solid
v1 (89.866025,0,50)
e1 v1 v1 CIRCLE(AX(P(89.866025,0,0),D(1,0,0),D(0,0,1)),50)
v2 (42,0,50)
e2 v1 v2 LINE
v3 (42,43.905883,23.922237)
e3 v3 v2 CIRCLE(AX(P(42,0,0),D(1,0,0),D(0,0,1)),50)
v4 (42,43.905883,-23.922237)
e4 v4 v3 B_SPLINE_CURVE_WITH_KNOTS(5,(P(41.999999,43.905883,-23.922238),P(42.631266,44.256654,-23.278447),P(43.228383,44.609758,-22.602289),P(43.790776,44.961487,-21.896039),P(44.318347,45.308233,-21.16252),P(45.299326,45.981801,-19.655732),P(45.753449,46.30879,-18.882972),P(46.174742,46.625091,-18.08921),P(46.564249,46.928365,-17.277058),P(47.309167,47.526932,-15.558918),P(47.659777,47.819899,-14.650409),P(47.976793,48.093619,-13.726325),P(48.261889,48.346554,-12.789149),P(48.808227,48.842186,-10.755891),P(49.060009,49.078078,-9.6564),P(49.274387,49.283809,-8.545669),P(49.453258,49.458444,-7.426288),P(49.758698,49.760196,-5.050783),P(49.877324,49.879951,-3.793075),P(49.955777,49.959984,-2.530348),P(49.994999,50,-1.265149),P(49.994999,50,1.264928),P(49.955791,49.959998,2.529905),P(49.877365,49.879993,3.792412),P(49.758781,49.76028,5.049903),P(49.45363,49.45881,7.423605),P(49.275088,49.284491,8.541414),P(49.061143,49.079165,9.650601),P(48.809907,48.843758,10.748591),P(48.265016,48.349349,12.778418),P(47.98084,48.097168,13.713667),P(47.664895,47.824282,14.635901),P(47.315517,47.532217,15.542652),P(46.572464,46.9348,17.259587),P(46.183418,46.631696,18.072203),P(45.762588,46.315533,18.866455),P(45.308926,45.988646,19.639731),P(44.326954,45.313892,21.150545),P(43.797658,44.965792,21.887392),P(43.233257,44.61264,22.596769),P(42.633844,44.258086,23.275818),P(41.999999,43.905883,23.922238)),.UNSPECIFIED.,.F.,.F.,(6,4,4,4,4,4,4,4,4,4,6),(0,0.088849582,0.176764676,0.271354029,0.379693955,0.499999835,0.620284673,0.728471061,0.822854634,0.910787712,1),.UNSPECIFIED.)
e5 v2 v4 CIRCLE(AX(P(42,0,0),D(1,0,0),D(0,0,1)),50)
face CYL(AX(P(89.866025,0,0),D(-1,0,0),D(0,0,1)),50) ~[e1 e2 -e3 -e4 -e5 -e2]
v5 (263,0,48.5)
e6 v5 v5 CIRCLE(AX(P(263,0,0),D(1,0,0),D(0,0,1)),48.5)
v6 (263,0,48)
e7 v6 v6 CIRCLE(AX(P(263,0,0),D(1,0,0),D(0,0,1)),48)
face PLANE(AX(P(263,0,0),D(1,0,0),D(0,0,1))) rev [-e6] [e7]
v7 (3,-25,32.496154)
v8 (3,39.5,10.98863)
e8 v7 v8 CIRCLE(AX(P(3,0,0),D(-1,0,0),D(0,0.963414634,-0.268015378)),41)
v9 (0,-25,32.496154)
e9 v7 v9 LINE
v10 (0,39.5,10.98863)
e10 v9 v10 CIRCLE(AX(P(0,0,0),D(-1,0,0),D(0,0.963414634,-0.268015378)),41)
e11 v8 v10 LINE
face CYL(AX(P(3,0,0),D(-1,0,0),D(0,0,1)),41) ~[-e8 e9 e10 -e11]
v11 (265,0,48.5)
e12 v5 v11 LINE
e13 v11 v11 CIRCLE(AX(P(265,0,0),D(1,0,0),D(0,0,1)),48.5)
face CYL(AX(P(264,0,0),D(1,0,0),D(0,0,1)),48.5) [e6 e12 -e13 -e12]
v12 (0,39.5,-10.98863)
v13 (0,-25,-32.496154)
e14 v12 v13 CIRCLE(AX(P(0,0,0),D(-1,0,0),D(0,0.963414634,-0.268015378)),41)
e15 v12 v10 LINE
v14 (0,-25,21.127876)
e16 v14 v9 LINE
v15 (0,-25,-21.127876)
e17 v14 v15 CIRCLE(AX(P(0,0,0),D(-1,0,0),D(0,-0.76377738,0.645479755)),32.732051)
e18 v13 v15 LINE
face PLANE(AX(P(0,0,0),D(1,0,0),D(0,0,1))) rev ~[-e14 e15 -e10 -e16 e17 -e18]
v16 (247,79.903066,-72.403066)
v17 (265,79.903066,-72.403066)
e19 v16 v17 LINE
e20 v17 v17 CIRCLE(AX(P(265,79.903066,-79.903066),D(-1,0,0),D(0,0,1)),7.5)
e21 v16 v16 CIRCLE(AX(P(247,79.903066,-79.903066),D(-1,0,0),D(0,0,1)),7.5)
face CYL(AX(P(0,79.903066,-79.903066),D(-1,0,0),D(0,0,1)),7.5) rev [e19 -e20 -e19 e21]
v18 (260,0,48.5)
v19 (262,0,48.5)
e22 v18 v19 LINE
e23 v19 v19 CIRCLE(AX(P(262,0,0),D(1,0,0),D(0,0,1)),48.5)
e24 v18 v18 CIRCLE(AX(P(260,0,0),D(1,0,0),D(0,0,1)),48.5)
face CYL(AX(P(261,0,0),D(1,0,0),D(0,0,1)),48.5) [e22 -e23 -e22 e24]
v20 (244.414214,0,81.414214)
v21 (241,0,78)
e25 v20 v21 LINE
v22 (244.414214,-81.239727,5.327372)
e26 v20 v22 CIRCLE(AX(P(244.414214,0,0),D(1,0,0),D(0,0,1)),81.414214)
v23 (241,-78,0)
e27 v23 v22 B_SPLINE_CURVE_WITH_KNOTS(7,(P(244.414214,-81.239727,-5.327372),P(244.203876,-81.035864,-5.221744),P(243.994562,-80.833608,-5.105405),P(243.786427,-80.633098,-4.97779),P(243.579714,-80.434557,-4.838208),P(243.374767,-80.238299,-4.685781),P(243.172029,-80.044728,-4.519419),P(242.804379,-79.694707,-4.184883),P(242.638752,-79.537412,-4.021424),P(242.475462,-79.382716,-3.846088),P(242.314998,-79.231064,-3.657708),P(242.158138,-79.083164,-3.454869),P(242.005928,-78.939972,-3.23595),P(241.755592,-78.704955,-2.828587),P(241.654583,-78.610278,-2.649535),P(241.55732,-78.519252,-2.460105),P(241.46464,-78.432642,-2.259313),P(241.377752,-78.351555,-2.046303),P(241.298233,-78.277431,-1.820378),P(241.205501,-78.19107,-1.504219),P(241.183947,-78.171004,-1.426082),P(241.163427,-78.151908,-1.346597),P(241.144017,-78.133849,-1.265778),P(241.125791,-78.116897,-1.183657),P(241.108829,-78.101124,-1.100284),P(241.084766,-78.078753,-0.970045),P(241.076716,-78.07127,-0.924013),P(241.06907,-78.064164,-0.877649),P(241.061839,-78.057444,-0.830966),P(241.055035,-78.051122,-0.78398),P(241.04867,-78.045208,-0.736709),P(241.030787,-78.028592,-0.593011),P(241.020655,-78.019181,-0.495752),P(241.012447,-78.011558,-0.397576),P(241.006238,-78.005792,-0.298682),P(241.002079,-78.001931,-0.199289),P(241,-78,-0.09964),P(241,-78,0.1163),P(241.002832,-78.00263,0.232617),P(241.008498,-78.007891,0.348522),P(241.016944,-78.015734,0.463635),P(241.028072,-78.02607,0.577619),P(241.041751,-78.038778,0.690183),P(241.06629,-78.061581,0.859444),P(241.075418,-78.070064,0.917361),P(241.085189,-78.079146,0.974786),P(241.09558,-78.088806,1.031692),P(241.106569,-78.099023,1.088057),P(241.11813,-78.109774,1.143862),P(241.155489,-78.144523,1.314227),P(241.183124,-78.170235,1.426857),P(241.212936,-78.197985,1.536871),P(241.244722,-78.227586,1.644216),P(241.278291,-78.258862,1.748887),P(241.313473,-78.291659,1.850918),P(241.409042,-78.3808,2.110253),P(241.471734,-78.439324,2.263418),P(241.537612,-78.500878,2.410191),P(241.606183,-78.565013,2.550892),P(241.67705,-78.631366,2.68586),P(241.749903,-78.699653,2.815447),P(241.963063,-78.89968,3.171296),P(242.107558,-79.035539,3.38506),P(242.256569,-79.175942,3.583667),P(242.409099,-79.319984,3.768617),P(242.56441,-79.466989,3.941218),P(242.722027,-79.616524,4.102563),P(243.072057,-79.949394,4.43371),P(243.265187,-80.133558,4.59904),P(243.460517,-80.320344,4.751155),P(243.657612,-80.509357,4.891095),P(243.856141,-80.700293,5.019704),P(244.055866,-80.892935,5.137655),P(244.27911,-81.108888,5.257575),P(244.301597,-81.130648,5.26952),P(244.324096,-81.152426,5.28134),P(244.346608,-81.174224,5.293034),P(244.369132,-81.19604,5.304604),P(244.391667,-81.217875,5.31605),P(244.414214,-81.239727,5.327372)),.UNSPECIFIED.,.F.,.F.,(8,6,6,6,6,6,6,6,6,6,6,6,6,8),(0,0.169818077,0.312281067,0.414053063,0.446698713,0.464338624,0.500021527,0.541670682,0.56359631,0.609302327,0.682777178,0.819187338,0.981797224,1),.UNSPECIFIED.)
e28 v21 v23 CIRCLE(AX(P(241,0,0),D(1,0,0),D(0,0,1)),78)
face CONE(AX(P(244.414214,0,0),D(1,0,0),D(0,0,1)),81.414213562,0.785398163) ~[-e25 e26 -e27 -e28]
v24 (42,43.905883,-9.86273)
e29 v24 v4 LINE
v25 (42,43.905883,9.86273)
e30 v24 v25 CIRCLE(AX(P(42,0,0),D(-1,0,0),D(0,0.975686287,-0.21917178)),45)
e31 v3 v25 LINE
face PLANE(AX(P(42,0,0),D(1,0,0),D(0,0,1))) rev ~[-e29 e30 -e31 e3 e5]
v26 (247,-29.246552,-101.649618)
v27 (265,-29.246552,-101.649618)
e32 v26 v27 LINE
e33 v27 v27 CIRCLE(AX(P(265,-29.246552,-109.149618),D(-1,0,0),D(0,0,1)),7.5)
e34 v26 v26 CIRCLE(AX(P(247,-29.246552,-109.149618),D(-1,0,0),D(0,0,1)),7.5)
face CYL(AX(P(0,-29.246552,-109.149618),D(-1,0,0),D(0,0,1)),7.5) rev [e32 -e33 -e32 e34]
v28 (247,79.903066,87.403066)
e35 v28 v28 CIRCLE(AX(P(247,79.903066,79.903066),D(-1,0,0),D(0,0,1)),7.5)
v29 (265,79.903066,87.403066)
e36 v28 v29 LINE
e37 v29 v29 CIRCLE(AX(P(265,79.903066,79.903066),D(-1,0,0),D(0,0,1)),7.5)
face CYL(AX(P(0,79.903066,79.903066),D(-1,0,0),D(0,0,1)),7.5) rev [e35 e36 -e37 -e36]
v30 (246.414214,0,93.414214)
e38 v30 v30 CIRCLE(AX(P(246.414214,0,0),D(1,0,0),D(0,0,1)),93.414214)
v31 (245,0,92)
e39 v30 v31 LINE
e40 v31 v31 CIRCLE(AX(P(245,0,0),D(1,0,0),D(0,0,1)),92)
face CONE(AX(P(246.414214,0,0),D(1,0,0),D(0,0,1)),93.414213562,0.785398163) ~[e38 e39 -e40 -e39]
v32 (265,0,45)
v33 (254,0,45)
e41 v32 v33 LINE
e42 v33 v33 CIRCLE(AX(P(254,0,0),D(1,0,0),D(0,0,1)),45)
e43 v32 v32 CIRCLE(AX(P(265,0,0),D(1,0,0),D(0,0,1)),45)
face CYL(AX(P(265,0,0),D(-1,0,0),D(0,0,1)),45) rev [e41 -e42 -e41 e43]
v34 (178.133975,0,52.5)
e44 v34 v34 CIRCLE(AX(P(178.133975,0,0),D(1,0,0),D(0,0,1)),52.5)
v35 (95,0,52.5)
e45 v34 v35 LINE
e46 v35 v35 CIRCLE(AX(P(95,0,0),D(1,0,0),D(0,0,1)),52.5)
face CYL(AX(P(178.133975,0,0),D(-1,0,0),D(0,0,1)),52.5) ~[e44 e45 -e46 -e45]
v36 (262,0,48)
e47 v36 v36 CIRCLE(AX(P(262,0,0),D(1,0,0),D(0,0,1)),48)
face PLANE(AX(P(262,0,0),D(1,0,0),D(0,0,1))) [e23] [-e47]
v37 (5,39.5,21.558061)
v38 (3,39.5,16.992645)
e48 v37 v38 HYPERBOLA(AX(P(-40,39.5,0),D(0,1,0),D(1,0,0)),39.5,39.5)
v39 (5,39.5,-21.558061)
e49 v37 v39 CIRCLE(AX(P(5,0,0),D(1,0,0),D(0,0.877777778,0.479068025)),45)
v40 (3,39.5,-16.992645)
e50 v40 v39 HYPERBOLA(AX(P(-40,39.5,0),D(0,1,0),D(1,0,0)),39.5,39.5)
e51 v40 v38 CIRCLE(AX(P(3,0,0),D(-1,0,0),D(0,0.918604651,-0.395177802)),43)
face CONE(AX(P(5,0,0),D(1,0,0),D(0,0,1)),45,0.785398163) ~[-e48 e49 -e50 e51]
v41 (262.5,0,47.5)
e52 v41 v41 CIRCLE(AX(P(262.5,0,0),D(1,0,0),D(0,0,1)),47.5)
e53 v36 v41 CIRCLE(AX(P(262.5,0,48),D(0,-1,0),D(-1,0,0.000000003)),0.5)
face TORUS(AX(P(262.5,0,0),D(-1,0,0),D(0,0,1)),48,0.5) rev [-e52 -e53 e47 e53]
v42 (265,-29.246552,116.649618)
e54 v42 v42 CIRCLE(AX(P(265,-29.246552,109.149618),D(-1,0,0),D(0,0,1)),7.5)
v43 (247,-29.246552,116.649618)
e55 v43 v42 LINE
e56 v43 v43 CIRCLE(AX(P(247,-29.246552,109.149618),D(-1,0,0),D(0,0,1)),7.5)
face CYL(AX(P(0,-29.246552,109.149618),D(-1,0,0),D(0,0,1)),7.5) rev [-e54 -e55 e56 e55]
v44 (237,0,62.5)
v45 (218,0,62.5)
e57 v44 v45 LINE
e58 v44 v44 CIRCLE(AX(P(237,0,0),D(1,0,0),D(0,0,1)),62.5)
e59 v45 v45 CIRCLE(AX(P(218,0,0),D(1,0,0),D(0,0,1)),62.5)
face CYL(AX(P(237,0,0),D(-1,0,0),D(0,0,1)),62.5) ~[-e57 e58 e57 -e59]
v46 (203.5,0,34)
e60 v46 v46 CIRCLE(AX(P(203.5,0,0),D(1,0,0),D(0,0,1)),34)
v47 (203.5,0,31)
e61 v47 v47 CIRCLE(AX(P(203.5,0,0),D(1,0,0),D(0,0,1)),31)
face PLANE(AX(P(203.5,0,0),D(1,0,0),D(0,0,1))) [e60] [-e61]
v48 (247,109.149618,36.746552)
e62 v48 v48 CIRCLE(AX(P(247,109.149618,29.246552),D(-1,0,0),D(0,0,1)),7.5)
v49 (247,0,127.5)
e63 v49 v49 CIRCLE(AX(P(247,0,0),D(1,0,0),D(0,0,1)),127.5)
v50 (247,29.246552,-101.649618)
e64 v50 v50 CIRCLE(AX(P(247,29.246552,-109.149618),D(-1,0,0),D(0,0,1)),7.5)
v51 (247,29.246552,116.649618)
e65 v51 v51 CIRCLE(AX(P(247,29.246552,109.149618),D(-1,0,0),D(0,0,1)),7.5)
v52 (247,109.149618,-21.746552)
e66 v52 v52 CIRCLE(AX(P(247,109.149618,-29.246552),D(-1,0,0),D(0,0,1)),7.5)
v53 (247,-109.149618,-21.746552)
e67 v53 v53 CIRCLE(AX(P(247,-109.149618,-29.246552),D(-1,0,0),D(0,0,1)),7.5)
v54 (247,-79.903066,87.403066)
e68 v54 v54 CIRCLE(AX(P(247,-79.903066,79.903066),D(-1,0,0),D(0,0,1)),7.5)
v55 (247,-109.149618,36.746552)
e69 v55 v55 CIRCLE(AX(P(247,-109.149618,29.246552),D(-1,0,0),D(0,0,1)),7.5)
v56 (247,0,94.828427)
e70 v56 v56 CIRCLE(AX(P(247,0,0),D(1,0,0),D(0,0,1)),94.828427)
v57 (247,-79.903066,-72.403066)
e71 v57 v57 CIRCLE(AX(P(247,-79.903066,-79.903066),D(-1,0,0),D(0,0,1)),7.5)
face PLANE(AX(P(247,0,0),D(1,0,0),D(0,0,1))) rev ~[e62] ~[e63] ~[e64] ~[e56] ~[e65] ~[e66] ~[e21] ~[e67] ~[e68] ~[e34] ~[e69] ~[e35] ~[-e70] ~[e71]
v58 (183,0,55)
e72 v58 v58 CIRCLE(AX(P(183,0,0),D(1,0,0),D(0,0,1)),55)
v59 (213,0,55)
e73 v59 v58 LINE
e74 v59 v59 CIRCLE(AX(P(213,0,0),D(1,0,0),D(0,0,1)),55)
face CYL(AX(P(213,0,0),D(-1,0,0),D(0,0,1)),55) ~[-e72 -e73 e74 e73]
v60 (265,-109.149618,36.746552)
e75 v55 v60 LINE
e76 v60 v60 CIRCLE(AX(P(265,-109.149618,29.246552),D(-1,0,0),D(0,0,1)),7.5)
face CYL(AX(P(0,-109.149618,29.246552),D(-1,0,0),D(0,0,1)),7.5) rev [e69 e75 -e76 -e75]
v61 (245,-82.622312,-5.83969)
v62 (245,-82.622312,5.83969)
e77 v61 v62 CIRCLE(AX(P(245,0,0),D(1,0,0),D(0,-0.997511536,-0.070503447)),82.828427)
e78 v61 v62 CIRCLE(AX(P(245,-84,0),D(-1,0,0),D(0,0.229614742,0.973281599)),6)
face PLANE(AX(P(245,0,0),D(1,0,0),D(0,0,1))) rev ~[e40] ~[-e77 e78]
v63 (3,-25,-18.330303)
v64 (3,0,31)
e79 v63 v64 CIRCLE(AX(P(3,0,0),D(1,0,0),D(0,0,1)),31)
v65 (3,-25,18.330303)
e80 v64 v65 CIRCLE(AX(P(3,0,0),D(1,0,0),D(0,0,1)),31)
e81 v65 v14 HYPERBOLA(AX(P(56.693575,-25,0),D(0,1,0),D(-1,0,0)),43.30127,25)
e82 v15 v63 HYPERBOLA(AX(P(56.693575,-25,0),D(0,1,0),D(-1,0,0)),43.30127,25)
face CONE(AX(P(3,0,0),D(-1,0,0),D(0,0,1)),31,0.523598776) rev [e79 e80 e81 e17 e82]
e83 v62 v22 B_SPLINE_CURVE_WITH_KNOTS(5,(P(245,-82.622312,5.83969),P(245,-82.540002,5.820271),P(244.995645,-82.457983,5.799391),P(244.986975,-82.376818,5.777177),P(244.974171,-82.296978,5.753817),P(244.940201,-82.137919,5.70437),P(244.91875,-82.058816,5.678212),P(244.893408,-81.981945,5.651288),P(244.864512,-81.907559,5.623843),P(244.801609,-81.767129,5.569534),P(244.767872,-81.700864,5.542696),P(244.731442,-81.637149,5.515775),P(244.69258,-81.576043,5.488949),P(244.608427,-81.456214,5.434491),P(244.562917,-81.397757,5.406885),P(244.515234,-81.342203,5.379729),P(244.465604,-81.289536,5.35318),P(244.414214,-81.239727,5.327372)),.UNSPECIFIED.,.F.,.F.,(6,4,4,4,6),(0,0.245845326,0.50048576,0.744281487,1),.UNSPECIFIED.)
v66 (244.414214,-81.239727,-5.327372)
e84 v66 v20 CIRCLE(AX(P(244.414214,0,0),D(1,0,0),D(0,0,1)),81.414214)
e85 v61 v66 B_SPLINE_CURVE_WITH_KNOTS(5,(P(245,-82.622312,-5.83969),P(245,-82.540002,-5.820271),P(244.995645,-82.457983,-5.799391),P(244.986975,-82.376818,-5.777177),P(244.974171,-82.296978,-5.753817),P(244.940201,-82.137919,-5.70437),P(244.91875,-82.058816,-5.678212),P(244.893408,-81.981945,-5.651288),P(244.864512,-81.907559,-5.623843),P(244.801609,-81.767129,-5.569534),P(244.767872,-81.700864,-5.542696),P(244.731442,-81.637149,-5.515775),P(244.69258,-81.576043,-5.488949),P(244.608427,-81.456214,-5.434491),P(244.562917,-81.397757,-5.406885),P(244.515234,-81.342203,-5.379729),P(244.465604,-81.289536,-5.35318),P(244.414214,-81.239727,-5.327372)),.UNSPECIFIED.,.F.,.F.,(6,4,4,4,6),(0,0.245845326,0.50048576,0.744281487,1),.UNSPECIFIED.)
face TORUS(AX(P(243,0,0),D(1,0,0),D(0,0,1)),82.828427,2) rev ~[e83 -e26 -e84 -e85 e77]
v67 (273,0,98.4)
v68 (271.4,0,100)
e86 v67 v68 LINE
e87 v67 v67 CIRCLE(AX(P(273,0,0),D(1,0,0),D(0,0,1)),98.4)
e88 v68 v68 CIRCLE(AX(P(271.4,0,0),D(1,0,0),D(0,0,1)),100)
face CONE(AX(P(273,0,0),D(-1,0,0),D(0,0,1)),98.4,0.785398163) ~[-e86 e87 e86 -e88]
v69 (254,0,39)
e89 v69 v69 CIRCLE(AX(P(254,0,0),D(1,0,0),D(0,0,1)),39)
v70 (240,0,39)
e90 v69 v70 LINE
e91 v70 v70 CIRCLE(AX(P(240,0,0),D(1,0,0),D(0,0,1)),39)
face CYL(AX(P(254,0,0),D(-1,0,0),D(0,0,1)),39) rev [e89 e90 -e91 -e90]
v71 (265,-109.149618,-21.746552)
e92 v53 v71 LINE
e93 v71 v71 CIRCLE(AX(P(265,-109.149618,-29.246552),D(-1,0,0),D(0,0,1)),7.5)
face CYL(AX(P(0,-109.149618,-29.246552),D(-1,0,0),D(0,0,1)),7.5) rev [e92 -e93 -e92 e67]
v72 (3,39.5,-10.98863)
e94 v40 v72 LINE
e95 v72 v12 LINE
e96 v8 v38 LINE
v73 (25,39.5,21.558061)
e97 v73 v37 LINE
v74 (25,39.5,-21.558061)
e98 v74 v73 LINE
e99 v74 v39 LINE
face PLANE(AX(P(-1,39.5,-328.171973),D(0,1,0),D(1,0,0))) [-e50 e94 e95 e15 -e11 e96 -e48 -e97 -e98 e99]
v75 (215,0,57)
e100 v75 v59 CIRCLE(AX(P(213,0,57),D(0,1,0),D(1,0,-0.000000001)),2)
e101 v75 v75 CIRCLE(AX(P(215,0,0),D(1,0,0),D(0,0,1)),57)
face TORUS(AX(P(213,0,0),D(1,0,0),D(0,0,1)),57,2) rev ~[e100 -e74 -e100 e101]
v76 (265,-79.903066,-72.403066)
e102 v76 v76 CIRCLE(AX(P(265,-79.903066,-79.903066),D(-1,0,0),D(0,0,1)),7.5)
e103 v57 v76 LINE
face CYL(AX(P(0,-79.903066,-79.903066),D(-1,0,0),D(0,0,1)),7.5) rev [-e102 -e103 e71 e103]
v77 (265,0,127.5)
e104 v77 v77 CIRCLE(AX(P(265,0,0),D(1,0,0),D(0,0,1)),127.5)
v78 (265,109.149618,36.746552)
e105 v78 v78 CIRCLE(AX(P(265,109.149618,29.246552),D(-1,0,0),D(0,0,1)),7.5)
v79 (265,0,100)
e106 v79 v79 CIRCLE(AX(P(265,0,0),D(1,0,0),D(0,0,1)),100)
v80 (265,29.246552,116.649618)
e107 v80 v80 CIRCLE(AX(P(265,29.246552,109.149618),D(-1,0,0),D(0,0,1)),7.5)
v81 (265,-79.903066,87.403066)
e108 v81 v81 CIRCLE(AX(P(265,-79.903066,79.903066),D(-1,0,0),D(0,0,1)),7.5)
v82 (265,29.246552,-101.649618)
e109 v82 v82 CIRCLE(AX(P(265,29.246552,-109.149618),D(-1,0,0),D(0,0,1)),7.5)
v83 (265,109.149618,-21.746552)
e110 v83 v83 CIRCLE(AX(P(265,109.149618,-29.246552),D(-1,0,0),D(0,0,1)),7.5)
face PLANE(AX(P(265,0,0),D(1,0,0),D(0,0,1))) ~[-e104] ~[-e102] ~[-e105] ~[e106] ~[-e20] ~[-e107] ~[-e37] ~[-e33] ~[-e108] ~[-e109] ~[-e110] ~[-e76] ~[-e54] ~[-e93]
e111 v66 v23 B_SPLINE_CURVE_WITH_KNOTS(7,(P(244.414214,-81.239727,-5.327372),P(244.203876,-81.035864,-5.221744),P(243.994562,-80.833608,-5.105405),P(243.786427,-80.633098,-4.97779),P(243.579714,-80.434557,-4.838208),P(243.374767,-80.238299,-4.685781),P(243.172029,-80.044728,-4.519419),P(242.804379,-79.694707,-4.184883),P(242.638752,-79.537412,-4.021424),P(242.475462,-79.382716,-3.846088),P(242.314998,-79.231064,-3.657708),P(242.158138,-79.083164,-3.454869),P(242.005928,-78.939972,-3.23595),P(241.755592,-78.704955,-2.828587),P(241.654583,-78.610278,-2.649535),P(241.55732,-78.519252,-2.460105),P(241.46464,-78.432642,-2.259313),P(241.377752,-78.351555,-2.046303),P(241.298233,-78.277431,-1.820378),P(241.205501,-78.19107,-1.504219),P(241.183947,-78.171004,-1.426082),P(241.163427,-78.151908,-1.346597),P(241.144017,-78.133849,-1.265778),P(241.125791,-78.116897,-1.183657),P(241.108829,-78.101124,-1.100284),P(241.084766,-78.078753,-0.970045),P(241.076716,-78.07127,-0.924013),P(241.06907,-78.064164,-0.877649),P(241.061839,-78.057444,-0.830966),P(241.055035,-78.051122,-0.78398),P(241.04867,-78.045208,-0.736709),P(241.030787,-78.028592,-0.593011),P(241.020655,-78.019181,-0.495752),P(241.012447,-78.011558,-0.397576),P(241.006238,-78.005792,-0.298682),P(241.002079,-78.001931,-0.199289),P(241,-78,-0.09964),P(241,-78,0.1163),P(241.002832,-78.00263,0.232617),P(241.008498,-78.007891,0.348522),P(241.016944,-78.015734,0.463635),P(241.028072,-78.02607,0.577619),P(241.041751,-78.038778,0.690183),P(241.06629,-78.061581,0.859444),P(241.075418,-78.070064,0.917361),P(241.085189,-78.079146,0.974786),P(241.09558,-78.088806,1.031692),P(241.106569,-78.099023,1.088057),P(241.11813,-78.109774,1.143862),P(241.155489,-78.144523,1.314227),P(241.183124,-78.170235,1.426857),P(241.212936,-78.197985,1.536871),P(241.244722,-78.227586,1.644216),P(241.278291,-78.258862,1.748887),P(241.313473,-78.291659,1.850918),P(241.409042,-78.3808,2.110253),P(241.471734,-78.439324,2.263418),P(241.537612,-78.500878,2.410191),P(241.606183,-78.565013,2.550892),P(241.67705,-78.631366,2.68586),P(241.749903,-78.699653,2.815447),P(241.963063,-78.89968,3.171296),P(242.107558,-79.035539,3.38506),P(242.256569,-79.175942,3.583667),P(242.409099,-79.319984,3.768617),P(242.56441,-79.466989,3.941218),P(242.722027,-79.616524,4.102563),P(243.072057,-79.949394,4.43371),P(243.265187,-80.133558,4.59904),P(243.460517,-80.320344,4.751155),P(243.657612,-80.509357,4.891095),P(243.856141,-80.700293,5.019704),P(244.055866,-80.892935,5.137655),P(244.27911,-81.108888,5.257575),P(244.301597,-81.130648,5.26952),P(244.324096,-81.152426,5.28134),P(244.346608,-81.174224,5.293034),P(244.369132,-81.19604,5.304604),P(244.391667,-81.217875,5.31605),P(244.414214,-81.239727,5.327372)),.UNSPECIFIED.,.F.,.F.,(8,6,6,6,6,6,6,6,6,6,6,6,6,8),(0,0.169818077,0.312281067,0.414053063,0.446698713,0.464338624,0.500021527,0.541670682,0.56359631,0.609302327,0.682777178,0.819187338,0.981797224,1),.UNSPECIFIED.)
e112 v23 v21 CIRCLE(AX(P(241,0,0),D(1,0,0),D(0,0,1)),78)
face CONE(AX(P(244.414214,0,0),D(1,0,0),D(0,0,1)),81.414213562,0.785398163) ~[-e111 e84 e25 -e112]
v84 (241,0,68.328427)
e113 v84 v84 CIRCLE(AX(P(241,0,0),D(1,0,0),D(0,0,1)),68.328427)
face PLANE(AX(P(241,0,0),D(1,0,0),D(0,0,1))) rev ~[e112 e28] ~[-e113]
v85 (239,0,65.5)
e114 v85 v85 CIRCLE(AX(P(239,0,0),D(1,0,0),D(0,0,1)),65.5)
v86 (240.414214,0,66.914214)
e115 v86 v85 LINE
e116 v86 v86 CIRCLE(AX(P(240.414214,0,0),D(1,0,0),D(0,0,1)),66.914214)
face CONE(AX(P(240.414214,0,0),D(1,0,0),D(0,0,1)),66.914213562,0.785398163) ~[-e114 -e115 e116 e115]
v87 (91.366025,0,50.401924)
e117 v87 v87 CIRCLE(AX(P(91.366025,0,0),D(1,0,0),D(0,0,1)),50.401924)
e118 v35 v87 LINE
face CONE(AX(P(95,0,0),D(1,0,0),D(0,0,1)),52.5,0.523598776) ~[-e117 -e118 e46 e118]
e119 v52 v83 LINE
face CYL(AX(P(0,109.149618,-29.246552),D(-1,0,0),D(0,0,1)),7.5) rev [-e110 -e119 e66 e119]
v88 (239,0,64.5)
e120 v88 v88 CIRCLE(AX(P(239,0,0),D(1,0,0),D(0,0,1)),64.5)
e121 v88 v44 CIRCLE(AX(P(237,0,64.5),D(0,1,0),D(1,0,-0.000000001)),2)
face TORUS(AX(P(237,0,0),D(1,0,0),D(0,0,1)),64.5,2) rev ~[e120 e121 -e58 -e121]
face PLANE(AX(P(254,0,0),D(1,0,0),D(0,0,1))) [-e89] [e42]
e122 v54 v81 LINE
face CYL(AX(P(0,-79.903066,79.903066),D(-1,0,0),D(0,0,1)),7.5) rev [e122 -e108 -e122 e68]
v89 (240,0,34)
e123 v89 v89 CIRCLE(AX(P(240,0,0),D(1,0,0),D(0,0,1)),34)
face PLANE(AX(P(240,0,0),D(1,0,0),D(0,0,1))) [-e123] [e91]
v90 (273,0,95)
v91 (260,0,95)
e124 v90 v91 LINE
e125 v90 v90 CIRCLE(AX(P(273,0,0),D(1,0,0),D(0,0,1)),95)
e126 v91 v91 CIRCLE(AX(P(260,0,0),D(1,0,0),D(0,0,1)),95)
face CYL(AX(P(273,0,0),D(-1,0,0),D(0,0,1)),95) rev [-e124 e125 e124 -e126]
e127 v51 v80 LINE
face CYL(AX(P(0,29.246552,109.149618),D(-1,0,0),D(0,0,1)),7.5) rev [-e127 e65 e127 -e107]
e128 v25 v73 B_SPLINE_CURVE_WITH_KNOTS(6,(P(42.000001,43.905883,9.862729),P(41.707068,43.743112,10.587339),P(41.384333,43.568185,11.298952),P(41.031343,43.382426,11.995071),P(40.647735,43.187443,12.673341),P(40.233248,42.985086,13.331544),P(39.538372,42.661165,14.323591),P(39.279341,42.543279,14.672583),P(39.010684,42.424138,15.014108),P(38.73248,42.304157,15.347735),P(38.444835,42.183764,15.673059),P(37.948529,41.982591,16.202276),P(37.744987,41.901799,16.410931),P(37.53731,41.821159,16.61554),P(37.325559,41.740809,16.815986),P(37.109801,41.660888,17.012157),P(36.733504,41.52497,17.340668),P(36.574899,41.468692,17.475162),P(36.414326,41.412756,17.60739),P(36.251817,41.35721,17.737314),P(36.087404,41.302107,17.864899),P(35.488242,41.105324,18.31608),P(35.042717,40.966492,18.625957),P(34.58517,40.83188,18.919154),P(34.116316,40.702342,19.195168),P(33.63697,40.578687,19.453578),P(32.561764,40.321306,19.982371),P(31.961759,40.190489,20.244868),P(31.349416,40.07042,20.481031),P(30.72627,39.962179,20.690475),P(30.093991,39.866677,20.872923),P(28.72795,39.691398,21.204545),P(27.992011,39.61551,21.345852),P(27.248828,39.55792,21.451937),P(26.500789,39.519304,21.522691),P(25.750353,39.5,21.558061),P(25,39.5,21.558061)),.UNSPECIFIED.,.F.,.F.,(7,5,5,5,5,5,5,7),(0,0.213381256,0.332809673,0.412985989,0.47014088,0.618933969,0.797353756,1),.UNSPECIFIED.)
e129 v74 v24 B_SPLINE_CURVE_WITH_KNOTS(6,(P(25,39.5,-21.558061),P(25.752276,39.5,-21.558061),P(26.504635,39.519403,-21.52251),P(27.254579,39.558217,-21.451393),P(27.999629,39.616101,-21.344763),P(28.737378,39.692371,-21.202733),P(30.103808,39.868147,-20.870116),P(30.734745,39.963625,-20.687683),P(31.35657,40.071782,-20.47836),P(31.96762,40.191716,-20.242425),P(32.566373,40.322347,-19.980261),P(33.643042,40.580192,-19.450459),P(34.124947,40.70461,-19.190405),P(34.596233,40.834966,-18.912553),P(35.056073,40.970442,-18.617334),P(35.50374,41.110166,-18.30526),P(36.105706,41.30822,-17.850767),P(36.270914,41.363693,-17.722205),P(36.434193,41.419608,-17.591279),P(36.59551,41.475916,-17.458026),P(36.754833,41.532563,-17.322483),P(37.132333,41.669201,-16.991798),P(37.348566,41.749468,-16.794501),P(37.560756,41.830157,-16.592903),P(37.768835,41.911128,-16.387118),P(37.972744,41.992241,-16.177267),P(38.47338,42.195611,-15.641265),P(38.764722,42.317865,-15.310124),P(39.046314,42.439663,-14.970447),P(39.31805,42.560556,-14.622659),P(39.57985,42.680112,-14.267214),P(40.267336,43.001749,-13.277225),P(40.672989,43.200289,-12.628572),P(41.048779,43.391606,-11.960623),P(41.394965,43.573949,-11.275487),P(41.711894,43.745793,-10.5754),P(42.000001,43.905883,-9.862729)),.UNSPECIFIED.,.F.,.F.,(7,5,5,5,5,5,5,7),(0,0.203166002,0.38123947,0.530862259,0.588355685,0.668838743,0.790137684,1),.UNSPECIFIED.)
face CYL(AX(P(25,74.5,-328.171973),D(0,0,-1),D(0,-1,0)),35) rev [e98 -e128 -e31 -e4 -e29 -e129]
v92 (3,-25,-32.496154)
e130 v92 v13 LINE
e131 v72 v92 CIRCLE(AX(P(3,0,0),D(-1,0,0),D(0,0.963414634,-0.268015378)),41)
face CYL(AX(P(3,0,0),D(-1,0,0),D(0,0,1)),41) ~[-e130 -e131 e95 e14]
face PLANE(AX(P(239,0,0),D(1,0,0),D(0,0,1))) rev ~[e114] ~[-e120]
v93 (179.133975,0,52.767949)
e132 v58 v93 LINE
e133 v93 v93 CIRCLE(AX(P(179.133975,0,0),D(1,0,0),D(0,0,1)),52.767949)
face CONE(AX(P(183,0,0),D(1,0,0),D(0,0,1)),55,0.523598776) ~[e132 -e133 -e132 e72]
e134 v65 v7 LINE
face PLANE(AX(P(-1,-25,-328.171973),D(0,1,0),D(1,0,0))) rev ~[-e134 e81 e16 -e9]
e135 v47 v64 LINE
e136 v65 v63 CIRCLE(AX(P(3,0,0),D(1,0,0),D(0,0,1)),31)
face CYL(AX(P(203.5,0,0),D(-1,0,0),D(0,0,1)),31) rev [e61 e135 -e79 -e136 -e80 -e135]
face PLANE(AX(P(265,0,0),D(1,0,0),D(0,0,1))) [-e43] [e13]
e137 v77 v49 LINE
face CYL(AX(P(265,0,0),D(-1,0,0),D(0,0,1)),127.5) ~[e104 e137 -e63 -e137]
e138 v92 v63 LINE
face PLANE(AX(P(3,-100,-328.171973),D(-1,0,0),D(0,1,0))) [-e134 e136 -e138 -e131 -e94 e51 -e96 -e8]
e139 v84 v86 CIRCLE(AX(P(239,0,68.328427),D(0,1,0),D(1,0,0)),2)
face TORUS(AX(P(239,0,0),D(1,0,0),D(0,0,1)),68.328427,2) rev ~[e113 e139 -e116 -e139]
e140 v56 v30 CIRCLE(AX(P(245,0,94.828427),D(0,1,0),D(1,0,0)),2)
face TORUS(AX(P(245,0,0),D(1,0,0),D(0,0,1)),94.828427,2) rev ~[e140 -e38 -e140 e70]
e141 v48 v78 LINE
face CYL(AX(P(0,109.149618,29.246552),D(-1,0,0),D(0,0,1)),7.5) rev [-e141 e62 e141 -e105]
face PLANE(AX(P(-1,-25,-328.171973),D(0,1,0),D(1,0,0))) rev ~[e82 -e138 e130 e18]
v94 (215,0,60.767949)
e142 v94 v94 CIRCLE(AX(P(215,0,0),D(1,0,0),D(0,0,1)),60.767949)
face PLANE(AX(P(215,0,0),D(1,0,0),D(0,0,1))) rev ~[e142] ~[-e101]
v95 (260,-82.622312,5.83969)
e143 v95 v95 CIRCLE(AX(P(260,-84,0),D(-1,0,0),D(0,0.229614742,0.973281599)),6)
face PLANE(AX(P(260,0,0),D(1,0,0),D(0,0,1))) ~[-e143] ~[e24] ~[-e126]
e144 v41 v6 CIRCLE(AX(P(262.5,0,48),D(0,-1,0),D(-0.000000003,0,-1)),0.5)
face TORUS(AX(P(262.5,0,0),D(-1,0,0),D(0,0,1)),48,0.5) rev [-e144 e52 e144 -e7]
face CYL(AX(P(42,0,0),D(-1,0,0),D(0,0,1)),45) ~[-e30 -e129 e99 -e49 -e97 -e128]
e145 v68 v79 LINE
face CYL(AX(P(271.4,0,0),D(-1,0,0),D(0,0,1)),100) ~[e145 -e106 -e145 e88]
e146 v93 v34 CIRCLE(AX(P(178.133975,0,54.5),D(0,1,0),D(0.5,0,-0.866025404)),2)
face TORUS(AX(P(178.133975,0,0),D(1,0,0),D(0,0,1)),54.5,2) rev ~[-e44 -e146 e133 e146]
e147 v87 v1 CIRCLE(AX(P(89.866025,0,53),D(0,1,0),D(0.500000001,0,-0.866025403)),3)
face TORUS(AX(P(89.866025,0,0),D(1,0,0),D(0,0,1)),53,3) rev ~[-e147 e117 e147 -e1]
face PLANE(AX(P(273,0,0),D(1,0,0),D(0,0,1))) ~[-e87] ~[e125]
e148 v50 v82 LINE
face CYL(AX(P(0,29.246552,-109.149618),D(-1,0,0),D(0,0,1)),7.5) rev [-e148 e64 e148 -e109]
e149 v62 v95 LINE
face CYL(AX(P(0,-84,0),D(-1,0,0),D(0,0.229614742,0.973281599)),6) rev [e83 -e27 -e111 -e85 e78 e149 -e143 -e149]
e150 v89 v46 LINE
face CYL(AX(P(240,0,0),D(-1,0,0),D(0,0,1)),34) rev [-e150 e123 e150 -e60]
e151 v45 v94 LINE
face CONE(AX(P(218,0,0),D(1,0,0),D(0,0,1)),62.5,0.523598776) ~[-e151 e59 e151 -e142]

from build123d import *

# Parameters (mm, degrees)
SKETCH_3_W                    = 2
SKETCH_3_H                    = 46.5
SKETCH_5_W                    = 2
SKETCH_5_H                    = 46.5
SKETCH_6_R                    = 7.5
CUT_EXTRUDE_1_DEPTH           = 328.171973127
SKETCH_7_R                    = 7.5
CUT_EXTRUDE_2_DEPTH           = 328.171973127
SKETCH_8_R                    = 7.5
CUT_EXTRUDE_3_DEPTH           = 328.171973127
SKETCH_9_R                    = 7.5
CUT_EXTRUDE_4_DEPTH           = 328.171973127
SKETCH_10_R                   = 7.5
CUT_EXTRUDE_5_DEPTH           = 328.171973127
SKETCH_11_R                   = 7.5
CUT_EXTRUDE_6_DEPTH           = 328.171973127
SKETCH_12_R                   = 7.5
CUT_EXTRUDE_7_DEPTH           = 328.171973127
SKETCH_13_R                   = 7.5
CUT_EXTRUDE_8_DEPTH           = 328.171973127
SKETCH_14_R                   = 7.5
CUT_EXTRUDE_9_DEPTH           = 328.171973127
SKETCH_15_R                   = 7.5
CUT_EXTRUDE_10_DEPTH          = 328.171973127
SKETCH_16_R                   = 7.5
CUT_EXTRUDE_11_DEPTH          = 328.171973127
SKETCH_17_R                   = 7.5
CUT_EXTRUDE_12_DEPTH          = 328.171973127
SKETCH_18_R                   = 6
CUT_EXTRUDE_13_DEPTH          = 328.171973127
LEFT_FLAT_84_5_R35_DEPTH      = 328.171973127
LEFT_FLAT_84_5_R35_DEPTH_BACK = 328.171973127
LEFT_END_BOTTOM_20_DEPTH      = 328.171973127
LEFT_END_BOTTOM_20_DEPTH_BACK = 328.171973127
SKETCH_20_W                   = 4
SKETCH_20_H                   = 75


with BuildPart() as part:
    # Эскиз1 → Повернуть1 (revolve)
    with BuildSketch(Plane.XY, mode=Mode.PRIVATE) as revolve_1_sk:
        with BuildLine():
            Line((0, 0), (273, 0))
            Line((273, 0), (273, 98.4))
            Line((273, 98.4), (271.4, 100))
            Line((271.4, 100), (265, 100))
            Line((265, 100), (265, 127.5))
            Line((265, 127.5), (247, 127.5))
            Line((247, 127.5), (247, 94.828427125))
            ThreePointArc((247, 94.828427125), (246.847759065, 94.06306026), (246.414213562, 93.414213562))
            Line((246.414213562, 93.414213562), (245, 92))
            Line((245, 92), (245, 82.828427125))
            ThreePointArc((245, 82.828427125), (244.847759065, 82.06306026), (244.414213562, 81.414213562))
            Line((244.414213562, 81.414213562), (241, 78))
            Line((241, 78), (241, 68.328427125))
            ThreePointArc((241, 68.328427125), (240.847759065, 67.56306026), (240.414213562, 66.914213562))
            Line((240.414213562, 66.914213562), (239, 65.5))
            Line((239, 65.5), (239, 64.5))
            ThreePointArc((239, 64.5), (238.414213562, 63.085786438), (237, 62.5))
            Line((237, 62.5), (218, 62.5))
            Line((218, 62.5), (215, 60.767949192))
            Line((215, 60.767949192), (215, 57))
            ThreePointArc((215, 57), (214.414213562, 55.585786438), (213, 55))
            Line((213, 55), (183, 55))
            Line((183, 55), (179.133974596, 52.767949192))
            ThreePointArc((179.133974596, 52.767949192), (178.651612686, 52.568148347), (178.133974596, 52.5))
            Line((178.133974596, 52.5), (95, 52.5))
            Line((95, 52.5), (91.366025404, 50.401923789))
            ThreePointArc((91.366025404, 50.401923789), (90.642482539, 50.102222521), (89.866025404, 50))
            Line((89.866025404, 50), (42, 50))
            Line((42, 50), (42, 45))
            Line((42, 45), (5, 45))
            Line((5, 45), (3, 43))
            Line((3, 43), (3, 41))
            Line((3, 41), (0, 41))
            Line((0, 41), (0, 0))
        make_face()
    revolve(revolve_1_sk.sketch.rotate(Axis((0, 0, 0), (1, 0, 0)), 90), axis=Axis((0, 0, 0), (1, 0, 0)))

    # Эскиз2 → Вырез-Повернуть1 (revolve, cut)
    with BuildSketch(Plane.XY, mode=Mode.PRIVATE) as cut_revolve_1_sk:
        Polygon((0, 0), (273, 0), (273, 95), (265, 95), (265, 45), (254, 45), (254, 39), (240, 39), (240, 34), (203.5, 34), (203.5, 31), (3, 31), (0, 32.732050808), align=None)
    revolve(cut_revolve_1_sk.sketch.rotate(Axis((0, 0, 0), (1, 0, 0)), 90), axis=Axis((0, 0, 0), (1, 0, 0)), mode=Mode.SUBTRACT)

    # Эскиз3 → Rear_recess_left (revolve, cut)
    with BuildSketch(Plane.XY, mode=Mode.PRIVATE) as rear_recess_left_sk:
        with Locations((261, 71.75)):
            Rectangle(SKETCH_3_W, SKETCH_3_H)
    revolve(rear_recess_left_sk.sketch.rotate(Axis((0, 0, 0), (1, 0, 0)), 90), axis=Axis((0, 0, 0), (1, 0, 0)), mode=Mode.SUBTRACT)

    # Эскиз4 → Collar_groove_nominal (revolve, cut)
    with BuildSketch(Plane.XY, mode=Mode.PRIVATE) as collar_groove_nominal_sk:
        with BuildLine():
            Line((263, 48), (263, 95))
            Line((263, 95), (262, 95))
            Line((262, 95), (262, 48))
            ThreePointArc((262, 48), (262.146446609, 47.646446609), (262.5, 47.5))
            ThreePointArc((262.5, 47.5), (262.853553391, 47.646446609), (263, 48))
        make_face()
    revolve(collar_groove_nominal_sk.sketch.rotate(Axis((0, 0, 0), (1, 0, 0)), 90), axis=Axis((0, 0, 0), (1, 0, 0)), mode=Mode.SUBTRACT)

    # Эскиз5 → Rear_recess_lip (revolve, cut)
    with BuildSketch(Plane.XY, mode=Mode.PRIVATE) as rear_recess_lip_sk:
        with Locations((264, 71.75)):
            Rectangle(SKETCH_5_W, SKETCH_5_H)
    revolve(rear_recess_lip_sk.sketch.rotate(Axis((0, 0, 0), (1, 0, 0)), 90), axis=Axis((0, 0, 0), (1, 0, 0)), mode=Mode.SUBTRACT)

    # Эскиз6 → Вырез-Вытянуть1 (cut, through all)
    with BuildSketch(Plane(origin=(0, 0, 0), x_dir=(0, 0, -1), z_dir=(1, 0, 0))):
        with Locations(Location((109.149618371, 29.246552097, 0), (0, 0, 180))):
            Circle(SKETCH_6_R)
    extrude(amount=CUT_EXTRUDE_1_DEPTH, mode=Mode.SUBTRACT)

    # Эскиз7 → Вырез-Вытянуть2 (cut, through all)
    with BuildSketch(Plane(origin=(0, 0, 0), x_dir=(0, 0, -1), z_dir=(1, 0, 0))):
        with Locations(Location((79.903066274, 79.903066274, 0), (0, 0, 180))):
            Circle(SKETCH_7_R)
    extrude(amount=CUT_EXTRUDE_2_DEPTH, mode=Mode.SUBTRACT)

    # Эскиз8 → Вырез-Вытянуть3 (cut, through all)
    with BuildSketch(Plane(origin=(0, 0, 0), x_dir=(0, 0, -1), z_dir=(1, 0, 0))):
        with Locations(Location((29.246552097, 109.149618371, 0), (0, 0, 180))):
            Circle(SKETCH_8_R)
    extrude(amount=CUT_EXTRUDE_3_DEPTH, mode=Mode.SUBTRACT)

    # Эскиз9 → Вырез-Вытянуть4 (cut, through all)
    with BuildSketch(Plane(origin=(0, 0, 0), x_dir=(0, 0, -1), z_dir=(1, 0, 0))):
        with Locations(Location((-29.246552097, 109.149618371, 0), (0, 0, 180))):
            Circle(SKETCH_9_R)
    extrude(amount=CUT_EXTRUDE_4_DEPTH, mode=Mode.SUBTRACT)

    # Эскиз10 → Вырез-Вытянуть5 (cut, through all)
    with BuildSketch(Plane(origin=(0, 0, 0), x_dir=(0, 0, -1), z_dir=(1, 0, 0))):
        with Locations(Location((-79.903066274, 79.903066274, 0), (0, 0, 180))):
            Circle(SKETCH_10_R)
    extrude(amount=CUT_EXTRUDE_5_DEPTH, mode=Mode.SUBTRACT)

    # Эскиз11 → Вырез-Вытянуть6 (cut, through all)
    with BuildSketch(Plane(origin=(0, 0, 0), x_dir=(0, 0, -1), z_dir=(1, 0, 0))):
        with Locations(Location((-109.149618371, 29.246552097, 0), (0, 0, 180))):
            Circle(SKETCH_11_R)
    extrude(amount=CUT_EXTRUDE_6_DEPTH, mode=Mode.SUBTRACT)

    # Эскиз12 → Вырез-Вытянуть7 (cut, through all)
    with BuildSketch(Plane(origin=(0, 0, 0), x_dir=(0, 0, -1), z_dir=(1, 0, 0))):
        with Locations(Location((-109.149618371, -29.246552097, 0), (0, 0, 180))):
            Circle(SKETCH_12_R)
    extrude(amount=CUT_EXTRUDE_7_DEPTH, mode=Mode.SUBTRACT)

    # Эскиз13 → Вырез-Вытянуть8 (cut, through all)
    with BuildSketch(Plane(origin=(0, 0, 0), x_dir=(0, 0, -1), z_dir=(1, 0, 0))):
        with Locations(Location((-79.903066274, -79.903066274, 0), (0, 0, 180))):
            Circle(SKETCH_13_R)
    extrude(amount=CUT_EXTRUDE_8_DEPTH, mode=Mode.SUBTRACT)

    # Эскиз14 → Вырез-Вытянуть9 (cut, through all)
    with BuildSketch(Plane(origin=(0, 0, 0), x_dir=(0, 0, -1), z_dir=(1, 0, 0))):
        with Locations(Location((-29.246552097, -109.149618371, 0), (0, 0, 180))):
            Circle(SKETCH_14_R)
    extrude(amount=CUT_EXTRUDE_9_DEPTH, mode=Mode.SUBTRACT)

    # Эскиз15 → Вырез-Вытянуть10 (cut, through all)
    with BuildSketch(Plane(origin=(0, 0, 0), x_dir=(0, 0, -1), z_dir=(1, 0, 0))):
        with Locations(Location((29.246552097, -109.149618371, 0), (0, 0, 180))):
            Circle(SKETCH_15_R)
    extrude(amount=CUT_EXTRUDE_10_DEPTH, mode=Mode.SUBTRACT)

    # Эскиз16 → Вырез-Вытянуть11 (cut, through all)
    with BuildSketch(Plane(origin=(0, 0, 0), x_dir=(0, 0, -1), z_dir=(1, 0, 0))):
        with Locations(Location((79.903066274, -79.903066274, 0), (0, 0, 180))):
            Circle(SKETCH_16_R)
    extrude(amount=CUT_EXTRUDE_11_DEPTH, mode=Mode.SUBTRACT)

    # Эскиз17 → Вырез-Вытянуть12 (cut, through all)
    with BuildSketch(Plane(origin=(0, 0, 0), x_dir=(0, 0, -1), z_dir=(1, 0, 0))):
        with Locations(Location((109.149618371, -29.246552097, 0), (0, 0, 180))):
            Circle(SKETCH_17_R)
    extrude(amount=CUT_EXTRUDE_12_DEPTH, mode=Mode.SUBTRACT)

    # Эскиз18 → Вырез-Вытянуть13 (cut, through all)
    with BuildSketch(Plane(origin=(0, 0, 0), x_dir=(0, 0, -1), z_dir=(1, 0, 0))):
        with Locations(Location((0, -84, 0), (0, 0, 166.725608927))):
            Circle(SKETCH_18_R)
    extrude(amount=CUT_EXTRUDE_13_DEPTH, mode=Mode.SUBTRACT)

    # Эскиз19 → Left_flat_84_5_R35 (cut, two sides: drawn at the far end of the back side and taken through both)
    with BuildSketch(Plane.XY.offset(-LEFT_FLAT_84_5_R35_DEPTH_BACK)):
        with BuildLine():
            Line((-1, 39.5), (25, 39.5))
            ThreePointArc((25, 39.5), (49.748737342, 49.751262658), (60, 74.5))
            Line((60, 74.5), (60, 150))
            Line((60, 150), (-1, 150))
            Line((-1, 150), (-1, 39.5))
        make_face()
    extrude(amount=LEFT_FLAT_84_5_R35_DEPTH + LEFT_FLAT_84_5_R35_DEPTH_BACK, mode=Mode.SUBTRACT)

    # Эскиз20 → Left_end_bottom_20 (cut, two sides: drawn at the far end of the back side and taken through both)
    with BuildSketch(Plane.XY.offset(-LEFT_END_BOTTOM_20_DEPTH_BACK)):
        with Locations((1, -62.5)):
            Rectangle(SKETCH_20_W, SKETCH_20_H)
    extrude(amount=LEFT_END_BOTTOM_20_DEPTH + LEFT_END_BOTTOM_20_DEPTH_BACK, mode=Mode.SUBTRACT)


solid = part.part
